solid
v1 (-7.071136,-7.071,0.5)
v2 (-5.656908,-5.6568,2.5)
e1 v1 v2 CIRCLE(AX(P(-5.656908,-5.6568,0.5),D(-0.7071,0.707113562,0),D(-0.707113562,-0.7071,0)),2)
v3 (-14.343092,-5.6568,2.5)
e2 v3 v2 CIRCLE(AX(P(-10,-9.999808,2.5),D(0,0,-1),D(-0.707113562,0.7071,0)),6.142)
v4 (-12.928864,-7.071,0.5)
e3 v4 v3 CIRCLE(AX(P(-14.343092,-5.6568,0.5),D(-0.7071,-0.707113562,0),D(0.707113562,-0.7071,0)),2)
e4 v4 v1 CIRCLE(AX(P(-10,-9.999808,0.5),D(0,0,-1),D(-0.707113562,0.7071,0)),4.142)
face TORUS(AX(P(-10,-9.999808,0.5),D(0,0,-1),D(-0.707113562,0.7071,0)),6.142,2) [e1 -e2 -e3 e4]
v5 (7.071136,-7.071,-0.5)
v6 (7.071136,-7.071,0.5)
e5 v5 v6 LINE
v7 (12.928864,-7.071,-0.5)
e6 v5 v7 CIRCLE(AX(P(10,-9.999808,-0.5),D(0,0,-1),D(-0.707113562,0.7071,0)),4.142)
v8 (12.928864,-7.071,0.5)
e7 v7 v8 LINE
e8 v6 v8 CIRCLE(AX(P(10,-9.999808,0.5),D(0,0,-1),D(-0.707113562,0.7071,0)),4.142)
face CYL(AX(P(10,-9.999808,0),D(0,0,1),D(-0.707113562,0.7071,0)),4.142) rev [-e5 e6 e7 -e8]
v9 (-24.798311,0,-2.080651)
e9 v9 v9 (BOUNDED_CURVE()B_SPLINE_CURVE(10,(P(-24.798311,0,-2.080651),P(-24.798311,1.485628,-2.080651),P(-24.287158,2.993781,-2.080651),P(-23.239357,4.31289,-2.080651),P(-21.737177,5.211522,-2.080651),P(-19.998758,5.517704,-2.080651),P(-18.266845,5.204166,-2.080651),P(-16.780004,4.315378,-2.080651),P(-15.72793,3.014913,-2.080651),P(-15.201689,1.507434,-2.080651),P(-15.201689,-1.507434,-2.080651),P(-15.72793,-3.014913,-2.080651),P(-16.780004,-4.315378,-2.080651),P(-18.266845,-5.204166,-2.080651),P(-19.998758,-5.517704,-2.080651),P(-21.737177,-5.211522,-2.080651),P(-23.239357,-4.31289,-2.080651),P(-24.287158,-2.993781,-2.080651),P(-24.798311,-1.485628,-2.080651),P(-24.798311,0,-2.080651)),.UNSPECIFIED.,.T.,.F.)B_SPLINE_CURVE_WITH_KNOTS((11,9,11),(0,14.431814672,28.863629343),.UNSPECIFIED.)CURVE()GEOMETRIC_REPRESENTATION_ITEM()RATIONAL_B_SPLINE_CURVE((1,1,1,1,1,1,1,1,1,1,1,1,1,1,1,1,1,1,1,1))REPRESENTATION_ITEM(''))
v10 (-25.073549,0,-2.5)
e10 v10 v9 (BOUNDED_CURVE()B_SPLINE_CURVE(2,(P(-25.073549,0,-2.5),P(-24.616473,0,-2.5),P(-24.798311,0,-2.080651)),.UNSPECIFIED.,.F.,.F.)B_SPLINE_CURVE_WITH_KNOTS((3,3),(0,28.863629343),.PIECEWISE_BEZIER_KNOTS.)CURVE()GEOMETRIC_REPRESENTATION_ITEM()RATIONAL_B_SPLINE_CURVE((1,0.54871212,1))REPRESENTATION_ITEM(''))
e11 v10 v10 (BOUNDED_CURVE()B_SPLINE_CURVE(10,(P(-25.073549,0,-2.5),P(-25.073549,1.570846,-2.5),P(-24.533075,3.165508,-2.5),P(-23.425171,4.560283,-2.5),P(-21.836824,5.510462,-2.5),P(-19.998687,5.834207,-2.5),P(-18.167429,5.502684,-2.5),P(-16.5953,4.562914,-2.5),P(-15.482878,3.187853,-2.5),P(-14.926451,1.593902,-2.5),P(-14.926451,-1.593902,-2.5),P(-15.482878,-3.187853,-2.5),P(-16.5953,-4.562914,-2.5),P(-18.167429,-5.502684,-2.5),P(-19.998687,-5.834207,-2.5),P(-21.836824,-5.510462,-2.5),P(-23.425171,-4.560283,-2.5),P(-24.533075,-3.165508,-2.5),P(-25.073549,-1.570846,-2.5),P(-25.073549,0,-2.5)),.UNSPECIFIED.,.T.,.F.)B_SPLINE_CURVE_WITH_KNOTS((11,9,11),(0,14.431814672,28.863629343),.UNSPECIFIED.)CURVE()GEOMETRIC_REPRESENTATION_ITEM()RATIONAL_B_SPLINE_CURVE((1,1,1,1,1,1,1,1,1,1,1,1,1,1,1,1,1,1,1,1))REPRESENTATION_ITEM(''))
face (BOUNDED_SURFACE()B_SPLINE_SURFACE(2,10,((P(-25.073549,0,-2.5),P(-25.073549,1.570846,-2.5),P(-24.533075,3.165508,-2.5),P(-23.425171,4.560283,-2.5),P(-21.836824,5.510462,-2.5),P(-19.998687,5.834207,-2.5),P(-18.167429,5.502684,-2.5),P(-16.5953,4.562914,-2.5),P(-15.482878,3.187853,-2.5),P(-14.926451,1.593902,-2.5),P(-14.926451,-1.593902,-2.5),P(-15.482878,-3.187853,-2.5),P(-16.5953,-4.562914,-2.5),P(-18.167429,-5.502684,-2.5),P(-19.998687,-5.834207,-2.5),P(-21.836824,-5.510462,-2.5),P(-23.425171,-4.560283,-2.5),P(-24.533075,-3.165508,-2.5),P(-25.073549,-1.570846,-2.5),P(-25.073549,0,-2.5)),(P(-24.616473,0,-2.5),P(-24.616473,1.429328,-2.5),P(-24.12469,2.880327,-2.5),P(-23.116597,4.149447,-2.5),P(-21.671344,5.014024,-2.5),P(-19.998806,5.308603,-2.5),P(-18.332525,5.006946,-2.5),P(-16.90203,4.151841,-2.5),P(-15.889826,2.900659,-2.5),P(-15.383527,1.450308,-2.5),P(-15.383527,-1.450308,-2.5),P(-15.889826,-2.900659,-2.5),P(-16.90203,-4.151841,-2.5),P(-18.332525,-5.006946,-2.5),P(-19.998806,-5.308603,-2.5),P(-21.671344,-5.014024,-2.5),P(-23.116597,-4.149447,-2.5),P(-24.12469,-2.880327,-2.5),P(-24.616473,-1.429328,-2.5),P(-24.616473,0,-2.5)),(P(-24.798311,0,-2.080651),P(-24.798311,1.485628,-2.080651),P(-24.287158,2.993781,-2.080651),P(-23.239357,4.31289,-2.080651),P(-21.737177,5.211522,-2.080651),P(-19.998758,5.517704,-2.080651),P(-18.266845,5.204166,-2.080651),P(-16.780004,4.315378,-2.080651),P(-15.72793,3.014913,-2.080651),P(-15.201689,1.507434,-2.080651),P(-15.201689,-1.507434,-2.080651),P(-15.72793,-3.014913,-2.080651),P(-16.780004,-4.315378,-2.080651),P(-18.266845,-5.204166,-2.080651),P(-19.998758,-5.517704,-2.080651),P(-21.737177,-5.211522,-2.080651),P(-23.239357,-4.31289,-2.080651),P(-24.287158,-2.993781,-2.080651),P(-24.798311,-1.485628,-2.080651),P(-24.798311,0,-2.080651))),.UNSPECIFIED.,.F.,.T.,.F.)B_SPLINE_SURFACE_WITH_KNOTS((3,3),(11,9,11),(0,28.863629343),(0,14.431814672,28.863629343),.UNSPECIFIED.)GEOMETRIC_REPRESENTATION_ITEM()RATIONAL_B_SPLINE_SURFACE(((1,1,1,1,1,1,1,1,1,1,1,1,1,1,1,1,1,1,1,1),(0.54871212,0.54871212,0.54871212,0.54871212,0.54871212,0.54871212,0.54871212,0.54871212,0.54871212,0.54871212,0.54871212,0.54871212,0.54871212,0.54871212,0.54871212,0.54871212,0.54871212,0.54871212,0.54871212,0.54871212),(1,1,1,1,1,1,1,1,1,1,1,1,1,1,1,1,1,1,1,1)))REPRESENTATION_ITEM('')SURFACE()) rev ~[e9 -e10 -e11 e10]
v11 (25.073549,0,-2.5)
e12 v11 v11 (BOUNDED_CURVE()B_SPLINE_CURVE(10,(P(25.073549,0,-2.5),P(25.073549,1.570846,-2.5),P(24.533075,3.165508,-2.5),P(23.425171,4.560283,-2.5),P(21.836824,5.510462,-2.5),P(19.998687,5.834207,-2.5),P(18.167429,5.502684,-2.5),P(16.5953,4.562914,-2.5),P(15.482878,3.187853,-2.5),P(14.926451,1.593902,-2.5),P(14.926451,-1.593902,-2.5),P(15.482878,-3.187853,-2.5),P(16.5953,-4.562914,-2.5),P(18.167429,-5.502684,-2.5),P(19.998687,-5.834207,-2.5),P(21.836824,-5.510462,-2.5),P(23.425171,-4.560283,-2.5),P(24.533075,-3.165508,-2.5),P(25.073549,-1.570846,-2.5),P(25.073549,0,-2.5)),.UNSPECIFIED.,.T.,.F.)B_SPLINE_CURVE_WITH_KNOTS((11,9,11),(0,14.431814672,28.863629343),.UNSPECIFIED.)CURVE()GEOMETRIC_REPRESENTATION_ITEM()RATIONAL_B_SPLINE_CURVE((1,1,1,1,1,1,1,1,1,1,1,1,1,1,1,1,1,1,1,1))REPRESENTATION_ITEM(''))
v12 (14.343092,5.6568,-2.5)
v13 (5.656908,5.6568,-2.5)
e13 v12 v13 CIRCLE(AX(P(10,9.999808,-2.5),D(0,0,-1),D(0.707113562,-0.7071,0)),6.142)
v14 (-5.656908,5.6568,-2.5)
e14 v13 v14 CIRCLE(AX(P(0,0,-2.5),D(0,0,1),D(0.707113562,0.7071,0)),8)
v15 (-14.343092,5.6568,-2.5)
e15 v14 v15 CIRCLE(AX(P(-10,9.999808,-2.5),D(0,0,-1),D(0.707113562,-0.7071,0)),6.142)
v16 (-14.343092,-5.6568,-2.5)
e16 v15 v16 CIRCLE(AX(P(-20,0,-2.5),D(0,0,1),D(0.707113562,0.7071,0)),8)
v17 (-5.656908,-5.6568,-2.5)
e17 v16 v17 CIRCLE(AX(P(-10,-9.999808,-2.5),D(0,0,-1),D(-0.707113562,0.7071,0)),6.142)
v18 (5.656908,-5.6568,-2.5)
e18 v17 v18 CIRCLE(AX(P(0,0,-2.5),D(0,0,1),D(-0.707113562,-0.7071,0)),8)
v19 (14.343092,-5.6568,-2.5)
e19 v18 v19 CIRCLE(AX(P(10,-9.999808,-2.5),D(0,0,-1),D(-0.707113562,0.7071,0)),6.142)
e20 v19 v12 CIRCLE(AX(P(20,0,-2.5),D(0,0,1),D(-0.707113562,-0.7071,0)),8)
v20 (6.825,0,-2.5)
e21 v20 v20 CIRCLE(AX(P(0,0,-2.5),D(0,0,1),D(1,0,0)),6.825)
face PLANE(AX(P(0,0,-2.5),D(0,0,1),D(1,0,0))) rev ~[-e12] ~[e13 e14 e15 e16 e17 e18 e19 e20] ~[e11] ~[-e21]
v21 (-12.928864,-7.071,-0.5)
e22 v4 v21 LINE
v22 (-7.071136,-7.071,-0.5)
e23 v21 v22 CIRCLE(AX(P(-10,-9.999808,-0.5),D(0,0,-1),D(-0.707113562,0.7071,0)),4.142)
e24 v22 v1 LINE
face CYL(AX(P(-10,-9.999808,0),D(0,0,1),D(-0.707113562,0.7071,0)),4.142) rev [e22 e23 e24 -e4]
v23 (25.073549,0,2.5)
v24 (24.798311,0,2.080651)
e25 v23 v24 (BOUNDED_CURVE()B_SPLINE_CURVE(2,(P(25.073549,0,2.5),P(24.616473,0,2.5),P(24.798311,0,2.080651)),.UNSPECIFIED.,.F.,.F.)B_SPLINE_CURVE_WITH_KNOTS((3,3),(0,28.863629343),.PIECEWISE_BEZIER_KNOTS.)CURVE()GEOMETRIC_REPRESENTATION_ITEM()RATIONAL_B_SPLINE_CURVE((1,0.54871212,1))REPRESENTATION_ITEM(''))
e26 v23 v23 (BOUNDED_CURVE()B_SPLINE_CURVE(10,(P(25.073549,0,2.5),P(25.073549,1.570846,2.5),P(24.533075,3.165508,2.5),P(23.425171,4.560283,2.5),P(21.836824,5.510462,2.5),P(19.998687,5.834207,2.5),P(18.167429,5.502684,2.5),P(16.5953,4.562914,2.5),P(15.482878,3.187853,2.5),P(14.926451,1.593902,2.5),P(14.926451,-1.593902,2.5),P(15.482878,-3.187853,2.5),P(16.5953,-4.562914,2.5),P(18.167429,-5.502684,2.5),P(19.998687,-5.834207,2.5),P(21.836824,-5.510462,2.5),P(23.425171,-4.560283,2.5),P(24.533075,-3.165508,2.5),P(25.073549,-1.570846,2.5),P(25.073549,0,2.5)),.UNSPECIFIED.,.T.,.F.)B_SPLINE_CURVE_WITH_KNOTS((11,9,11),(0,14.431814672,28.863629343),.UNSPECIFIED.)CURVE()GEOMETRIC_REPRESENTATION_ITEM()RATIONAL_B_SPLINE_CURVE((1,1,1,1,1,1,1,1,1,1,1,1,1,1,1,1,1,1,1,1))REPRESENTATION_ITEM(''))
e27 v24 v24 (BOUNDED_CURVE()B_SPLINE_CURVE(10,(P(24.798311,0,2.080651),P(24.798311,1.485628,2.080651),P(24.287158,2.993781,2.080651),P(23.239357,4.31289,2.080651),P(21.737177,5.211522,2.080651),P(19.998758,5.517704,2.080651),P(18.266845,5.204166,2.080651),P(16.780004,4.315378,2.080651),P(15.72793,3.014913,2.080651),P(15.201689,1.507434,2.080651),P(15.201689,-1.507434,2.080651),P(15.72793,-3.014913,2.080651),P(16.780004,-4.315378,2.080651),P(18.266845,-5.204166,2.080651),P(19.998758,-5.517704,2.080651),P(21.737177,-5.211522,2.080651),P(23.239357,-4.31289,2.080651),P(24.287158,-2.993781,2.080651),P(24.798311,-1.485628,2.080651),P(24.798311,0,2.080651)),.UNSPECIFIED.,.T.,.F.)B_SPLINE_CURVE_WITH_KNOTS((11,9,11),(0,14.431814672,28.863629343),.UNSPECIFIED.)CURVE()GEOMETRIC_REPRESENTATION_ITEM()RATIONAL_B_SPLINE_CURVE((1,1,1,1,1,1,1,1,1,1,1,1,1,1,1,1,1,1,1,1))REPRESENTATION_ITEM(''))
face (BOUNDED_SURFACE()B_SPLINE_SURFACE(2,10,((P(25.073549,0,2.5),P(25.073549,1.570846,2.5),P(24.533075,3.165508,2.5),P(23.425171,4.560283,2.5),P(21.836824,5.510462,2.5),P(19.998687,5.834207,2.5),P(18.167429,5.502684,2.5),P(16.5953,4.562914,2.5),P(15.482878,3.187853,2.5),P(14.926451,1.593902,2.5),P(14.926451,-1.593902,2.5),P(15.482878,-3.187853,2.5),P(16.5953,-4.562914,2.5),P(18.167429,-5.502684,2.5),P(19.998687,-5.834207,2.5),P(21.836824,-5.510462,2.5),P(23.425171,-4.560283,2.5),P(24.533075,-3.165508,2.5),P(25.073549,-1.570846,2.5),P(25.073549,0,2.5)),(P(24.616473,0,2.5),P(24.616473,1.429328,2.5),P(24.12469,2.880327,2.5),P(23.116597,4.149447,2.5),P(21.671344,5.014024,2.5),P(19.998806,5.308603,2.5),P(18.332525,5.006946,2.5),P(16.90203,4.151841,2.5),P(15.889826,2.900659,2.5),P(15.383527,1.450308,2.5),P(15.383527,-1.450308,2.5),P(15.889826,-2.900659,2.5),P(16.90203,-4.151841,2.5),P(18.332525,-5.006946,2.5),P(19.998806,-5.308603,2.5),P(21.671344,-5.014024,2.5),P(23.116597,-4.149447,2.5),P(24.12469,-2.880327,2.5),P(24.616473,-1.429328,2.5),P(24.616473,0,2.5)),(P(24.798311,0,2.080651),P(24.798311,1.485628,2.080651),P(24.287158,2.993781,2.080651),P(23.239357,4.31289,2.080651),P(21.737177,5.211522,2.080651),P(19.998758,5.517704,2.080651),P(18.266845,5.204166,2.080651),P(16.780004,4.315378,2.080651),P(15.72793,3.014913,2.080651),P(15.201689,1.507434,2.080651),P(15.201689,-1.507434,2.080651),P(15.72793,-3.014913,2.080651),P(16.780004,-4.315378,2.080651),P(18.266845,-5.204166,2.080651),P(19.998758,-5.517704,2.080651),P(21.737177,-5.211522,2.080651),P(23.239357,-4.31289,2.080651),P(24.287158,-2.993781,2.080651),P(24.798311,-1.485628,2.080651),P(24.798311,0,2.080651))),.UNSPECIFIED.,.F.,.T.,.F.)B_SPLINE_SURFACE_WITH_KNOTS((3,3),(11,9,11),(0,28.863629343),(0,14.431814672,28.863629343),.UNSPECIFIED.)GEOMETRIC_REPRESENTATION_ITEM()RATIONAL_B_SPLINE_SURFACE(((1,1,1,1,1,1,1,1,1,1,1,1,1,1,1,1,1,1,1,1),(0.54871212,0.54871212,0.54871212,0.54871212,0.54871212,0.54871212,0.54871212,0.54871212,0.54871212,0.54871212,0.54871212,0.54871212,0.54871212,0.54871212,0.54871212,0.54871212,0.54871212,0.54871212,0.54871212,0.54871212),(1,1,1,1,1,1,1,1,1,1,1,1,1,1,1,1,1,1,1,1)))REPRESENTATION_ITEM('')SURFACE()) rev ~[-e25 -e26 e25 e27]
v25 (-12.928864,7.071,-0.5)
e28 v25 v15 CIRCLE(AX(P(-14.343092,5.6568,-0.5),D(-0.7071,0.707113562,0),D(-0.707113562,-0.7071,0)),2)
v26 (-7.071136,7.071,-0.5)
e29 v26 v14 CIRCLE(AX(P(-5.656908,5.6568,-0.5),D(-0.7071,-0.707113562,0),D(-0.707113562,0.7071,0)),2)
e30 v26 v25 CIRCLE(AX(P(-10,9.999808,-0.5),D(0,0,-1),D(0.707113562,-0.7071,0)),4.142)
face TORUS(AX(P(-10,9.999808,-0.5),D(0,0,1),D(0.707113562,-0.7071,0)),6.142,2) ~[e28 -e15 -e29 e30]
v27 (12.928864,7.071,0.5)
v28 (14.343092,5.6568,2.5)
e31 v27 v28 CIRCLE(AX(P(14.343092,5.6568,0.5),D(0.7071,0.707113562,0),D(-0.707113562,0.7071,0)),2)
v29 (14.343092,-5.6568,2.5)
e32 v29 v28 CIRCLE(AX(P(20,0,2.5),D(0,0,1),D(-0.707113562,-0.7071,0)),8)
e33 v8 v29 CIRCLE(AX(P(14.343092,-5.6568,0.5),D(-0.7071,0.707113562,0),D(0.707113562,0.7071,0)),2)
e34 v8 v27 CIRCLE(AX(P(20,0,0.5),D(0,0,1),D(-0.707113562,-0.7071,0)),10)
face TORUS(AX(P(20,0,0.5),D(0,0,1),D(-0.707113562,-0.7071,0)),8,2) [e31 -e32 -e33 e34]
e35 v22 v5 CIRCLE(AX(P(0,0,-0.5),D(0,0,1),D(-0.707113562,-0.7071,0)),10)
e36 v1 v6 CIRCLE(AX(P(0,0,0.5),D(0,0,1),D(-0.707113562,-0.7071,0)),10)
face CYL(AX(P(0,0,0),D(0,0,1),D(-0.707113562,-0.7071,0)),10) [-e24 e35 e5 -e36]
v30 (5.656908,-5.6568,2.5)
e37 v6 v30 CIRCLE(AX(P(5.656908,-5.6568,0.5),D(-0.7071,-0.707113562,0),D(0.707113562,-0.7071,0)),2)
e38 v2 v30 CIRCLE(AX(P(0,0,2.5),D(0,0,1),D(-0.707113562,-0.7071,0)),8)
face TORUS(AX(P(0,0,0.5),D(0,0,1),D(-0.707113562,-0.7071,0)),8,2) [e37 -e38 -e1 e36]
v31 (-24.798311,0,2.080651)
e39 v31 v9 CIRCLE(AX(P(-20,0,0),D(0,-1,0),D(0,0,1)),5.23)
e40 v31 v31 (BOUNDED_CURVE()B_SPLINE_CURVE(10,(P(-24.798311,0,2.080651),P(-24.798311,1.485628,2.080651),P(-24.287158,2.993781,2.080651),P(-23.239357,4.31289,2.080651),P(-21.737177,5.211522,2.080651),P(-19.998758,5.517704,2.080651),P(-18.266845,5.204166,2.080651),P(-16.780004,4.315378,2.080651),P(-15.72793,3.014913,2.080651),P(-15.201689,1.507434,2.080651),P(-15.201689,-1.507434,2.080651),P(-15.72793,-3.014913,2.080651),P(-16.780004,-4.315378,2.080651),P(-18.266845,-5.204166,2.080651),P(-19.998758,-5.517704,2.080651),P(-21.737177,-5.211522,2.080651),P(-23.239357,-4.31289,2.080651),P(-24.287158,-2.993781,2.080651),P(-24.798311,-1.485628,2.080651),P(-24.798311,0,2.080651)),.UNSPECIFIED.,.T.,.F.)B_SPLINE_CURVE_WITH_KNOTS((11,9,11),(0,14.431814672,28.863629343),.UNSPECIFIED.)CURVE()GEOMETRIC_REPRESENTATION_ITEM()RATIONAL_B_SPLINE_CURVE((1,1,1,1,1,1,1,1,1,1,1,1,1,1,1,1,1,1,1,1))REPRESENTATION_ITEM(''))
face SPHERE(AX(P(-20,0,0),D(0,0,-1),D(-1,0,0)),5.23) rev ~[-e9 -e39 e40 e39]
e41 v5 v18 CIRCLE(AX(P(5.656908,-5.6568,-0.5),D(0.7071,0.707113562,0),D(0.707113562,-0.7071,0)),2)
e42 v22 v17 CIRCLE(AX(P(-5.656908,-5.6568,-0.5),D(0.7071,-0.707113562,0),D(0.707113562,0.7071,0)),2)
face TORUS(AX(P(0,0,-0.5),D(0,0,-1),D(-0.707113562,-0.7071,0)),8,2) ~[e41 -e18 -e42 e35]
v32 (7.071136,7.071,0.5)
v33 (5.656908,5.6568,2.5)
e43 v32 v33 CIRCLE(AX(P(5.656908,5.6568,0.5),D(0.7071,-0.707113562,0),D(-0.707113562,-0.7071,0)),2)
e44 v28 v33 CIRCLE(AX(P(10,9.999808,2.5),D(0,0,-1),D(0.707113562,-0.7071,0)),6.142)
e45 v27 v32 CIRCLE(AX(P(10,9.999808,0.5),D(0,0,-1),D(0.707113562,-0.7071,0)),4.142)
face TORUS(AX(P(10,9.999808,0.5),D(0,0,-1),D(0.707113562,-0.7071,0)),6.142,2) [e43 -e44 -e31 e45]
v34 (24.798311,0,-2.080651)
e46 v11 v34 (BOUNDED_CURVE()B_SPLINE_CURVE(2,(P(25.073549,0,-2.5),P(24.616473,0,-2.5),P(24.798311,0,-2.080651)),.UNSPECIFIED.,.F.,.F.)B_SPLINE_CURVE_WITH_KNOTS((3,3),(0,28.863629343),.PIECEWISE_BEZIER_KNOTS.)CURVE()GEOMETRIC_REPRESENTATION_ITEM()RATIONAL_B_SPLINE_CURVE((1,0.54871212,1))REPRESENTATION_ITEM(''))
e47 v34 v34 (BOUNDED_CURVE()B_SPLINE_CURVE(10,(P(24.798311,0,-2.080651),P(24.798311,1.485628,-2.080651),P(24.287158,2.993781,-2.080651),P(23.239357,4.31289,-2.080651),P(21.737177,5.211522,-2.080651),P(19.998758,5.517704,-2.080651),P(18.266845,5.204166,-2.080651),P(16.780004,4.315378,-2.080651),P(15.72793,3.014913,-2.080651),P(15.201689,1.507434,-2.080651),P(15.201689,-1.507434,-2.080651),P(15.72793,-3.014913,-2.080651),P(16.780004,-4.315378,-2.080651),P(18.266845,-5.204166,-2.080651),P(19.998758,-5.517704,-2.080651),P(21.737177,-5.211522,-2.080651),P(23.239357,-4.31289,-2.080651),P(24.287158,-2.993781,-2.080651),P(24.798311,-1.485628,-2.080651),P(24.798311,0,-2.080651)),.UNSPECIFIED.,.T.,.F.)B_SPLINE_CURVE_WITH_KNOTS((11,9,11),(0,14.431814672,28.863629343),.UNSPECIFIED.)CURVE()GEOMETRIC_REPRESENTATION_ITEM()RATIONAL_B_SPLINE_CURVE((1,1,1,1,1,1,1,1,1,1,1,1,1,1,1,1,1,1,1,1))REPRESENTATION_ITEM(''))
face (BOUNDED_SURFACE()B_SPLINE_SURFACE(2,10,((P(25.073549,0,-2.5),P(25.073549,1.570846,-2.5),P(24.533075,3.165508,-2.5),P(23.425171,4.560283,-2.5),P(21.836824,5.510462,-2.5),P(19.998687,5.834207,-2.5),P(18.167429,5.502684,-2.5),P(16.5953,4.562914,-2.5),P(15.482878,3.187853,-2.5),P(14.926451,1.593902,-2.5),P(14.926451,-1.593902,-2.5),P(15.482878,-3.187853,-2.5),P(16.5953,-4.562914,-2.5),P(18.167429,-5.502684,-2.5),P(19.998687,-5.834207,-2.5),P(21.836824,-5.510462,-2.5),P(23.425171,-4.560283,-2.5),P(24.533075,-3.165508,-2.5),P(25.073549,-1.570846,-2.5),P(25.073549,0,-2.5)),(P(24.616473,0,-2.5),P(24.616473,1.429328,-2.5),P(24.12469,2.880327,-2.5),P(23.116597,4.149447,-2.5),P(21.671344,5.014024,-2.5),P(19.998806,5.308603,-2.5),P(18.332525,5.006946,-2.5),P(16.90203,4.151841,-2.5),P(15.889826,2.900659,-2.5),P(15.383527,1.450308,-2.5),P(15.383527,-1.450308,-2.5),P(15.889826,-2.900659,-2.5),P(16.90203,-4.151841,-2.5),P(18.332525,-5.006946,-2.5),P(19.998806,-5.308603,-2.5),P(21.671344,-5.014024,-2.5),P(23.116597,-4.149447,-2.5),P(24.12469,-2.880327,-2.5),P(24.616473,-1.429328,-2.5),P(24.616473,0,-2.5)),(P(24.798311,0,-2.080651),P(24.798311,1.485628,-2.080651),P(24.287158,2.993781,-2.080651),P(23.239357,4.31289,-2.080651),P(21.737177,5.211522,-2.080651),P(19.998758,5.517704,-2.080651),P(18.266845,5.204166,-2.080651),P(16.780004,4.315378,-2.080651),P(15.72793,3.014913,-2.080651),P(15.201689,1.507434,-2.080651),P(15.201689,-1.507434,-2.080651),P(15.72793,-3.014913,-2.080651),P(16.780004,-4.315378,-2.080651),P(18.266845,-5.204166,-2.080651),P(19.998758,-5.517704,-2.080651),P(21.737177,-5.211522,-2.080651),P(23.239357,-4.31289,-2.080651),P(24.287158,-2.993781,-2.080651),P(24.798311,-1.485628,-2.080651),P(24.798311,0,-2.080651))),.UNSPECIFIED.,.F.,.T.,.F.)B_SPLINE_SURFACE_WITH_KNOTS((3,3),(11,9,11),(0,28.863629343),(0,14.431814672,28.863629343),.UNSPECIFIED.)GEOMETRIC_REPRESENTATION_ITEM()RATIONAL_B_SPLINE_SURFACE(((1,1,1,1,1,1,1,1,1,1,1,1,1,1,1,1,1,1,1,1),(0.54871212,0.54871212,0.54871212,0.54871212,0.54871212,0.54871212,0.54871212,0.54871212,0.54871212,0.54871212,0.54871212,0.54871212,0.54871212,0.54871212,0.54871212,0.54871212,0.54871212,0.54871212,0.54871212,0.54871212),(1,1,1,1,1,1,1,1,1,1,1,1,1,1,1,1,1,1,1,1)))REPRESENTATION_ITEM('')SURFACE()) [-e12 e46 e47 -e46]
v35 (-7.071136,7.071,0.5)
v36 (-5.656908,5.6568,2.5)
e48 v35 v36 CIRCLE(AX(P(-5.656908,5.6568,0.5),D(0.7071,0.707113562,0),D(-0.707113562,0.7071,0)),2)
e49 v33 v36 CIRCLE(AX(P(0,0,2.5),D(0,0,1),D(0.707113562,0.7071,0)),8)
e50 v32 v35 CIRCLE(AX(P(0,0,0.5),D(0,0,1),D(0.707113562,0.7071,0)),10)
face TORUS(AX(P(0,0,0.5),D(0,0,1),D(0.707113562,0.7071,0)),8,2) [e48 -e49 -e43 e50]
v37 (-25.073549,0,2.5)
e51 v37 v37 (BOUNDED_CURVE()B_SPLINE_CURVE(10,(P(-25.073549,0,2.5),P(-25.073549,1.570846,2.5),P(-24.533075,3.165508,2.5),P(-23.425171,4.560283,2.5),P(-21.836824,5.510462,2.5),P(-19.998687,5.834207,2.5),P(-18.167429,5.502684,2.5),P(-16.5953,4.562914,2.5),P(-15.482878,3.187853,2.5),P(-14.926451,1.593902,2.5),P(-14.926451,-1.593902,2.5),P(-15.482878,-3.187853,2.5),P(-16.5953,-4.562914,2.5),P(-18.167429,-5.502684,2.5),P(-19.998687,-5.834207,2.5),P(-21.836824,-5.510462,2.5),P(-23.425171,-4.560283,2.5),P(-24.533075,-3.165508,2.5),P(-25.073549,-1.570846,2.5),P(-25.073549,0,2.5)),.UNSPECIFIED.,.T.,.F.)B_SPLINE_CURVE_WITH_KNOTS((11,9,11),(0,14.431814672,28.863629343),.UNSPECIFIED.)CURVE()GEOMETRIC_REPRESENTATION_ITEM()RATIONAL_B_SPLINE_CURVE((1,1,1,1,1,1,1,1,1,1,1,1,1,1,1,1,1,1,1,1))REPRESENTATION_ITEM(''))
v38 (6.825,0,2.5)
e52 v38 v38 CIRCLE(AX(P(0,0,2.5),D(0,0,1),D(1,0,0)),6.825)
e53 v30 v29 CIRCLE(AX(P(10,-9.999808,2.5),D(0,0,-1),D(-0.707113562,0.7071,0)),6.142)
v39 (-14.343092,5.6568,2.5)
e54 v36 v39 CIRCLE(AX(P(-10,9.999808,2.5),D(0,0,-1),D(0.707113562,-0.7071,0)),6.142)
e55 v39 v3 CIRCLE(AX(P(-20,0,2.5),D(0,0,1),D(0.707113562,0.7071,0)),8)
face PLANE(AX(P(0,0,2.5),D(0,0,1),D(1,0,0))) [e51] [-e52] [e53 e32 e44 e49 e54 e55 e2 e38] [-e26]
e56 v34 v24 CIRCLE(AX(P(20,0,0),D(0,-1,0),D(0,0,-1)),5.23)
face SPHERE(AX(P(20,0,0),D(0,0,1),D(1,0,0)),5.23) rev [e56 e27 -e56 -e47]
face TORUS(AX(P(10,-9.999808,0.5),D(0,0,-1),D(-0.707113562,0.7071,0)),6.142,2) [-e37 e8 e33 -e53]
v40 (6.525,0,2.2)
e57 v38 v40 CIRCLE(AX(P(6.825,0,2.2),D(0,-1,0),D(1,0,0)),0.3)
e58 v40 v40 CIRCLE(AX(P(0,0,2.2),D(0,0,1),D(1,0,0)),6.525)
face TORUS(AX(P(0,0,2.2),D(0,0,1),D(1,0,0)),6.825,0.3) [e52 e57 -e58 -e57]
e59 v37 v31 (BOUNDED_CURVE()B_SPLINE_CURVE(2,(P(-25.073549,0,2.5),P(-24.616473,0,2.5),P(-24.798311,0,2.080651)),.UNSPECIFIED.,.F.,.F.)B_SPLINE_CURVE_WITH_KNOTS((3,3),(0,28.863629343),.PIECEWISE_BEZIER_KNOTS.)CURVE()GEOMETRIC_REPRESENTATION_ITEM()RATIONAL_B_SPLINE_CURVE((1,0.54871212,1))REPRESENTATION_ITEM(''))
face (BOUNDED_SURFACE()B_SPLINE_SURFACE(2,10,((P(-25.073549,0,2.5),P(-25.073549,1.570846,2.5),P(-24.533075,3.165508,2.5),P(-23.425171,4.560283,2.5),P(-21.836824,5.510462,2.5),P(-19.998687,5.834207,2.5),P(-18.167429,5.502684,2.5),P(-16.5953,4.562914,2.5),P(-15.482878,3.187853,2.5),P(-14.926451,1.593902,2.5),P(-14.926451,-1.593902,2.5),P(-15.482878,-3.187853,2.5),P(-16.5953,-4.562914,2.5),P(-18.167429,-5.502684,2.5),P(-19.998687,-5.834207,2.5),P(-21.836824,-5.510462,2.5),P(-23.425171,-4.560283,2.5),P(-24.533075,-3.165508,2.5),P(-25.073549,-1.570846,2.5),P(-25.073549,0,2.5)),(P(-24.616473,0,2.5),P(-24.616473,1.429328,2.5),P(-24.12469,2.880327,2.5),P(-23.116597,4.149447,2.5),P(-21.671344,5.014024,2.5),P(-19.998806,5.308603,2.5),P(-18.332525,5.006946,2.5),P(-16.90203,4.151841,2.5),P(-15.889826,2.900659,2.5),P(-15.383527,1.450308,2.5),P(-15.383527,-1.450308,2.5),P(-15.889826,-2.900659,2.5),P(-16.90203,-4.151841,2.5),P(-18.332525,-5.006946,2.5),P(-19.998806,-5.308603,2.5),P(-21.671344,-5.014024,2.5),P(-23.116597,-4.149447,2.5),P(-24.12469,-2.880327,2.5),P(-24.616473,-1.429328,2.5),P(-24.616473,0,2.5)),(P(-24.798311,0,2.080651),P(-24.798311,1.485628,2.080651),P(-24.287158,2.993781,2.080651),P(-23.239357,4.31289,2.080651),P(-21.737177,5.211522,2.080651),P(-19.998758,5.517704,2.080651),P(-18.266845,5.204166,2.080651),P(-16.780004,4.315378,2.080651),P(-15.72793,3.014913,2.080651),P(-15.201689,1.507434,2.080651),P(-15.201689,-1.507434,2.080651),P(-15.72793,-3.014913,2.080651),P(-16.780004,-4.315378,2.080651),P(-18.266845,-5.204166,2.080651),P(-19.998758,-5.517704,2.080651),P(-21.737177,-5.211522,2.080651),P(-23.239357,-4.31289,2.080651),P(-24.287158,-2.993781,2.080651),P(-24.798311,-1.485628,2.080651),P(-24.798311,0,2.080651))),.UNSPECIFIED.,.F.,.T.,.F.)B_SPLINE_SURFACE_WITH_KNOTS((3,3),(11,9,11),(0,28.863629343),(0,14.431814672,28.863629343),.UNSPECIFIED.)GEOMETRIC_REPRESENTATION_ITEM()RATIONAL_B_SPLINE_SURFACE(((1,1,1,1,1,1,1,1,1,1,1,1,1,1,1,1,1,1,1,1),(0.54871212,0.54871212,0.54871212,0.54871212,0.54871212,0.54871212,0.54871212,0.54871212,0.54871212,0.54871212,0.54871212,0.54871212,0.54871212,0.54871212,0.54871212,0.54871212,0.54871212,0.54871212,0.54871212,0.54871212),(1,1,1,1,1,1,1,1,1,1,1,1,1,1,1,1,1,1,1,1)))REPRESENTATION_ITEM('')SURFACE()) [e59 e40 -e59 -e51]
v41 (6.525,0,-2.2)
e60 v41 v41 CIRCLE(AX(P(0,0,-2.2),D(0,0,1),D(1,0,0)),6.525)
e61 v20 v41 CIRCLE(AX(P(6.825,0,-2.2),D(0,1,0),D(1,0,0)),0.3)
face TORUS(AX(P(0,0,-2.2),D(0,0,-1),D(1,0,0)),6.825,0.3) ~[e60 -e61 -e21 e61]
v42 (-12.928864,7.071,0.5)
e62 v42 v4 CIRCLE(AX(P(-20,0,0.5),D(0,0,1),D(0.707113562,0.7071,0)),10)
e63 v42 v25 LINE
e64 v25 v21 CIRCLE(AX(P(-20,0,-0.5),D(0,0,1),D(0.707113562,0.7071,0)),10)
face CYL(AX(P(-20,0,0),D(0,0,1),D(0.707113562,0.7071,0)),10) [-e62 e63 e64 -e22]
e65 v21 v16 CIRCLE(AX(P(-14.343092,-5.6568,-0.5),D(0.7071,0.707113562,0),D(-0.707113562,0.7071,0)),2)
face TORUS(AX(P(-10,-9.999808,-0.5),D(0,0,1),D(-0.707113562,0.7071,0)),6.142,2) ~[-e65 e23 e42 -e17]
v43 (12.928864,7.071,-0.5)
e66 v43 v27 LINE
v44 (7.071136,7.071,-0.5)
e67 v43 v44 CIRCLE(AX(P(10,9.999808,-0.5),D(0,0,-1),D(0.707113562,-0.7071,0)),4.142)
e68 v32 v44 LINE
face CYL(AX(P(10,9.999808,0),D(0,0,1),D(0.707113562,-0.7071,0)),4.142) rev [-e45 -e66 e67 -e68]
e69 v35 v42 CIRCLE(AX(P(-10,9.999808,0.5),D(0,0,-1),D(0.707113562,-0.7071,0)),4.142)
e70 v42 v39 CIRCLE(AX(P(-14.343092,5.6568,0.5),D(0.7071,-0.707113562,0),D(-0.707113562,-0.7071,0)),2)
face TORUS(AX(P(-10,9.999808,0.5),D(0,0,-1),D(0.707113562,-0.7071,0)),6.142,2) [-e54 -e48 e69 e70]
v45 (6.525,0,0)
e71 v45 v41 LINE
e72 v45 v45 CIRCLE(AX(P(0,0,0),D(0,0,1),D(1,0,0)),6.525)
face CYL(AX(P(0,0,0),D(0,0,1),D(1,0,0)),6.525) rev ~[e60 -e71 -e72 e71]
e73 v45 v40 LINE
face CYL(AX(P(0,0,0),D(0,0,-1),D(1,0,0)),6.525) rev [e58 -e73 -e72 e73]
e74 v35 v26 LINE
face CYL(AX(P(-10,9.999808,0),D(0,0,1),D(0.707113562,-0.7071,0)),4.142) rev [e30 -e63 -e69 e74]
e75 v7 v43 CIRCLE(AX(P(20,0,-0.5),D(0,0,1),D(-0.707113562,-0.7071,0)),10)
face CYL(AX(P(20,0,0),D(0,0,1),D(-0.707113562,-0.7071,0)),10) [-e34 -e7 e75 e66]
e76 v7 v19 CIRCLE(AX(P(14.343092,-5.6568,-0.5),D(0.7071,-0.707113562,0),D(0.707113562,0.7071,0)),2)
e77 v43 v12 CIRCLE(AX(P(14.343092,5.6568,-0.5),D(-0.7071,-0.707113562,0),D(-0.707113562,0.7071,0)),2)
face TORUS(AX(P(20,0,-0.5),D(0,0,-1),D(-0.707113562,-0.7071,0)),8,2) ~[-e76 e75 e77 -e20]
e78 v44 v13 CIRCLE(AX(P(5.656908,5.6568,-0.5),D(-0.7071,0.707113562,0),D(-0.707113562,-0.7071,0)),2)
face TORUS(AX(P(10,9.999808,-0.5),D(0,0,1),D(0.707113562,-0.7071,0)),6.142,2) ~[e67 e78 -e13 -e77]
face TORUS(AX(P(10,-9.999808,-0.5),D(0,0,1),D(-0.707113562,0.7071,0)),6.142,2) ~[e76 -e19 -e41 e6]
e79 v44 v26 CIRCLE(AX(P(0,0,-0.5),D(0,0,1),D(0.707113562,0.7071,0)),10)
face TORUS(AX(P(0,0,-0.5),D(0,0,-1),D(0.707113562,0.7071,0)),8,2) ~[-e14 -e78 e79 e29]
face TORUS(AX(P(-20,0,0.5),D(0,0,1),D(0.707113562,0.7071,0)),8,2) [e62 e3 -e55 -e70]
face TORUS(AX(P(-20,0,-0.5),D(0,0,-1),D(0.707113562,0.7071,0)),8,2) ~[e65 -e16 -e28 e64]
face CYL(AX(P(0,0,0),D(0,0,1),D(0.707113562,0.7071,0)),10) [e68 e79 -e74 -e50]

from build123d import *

# Parameters (mm, degrees)
F0_R     = 6.525
F1_DEPTH = 2.5
F2_DEPTH = 2.5
F7_R     = 2
F8_R     = 0.3


with BuildPart() as f1:
    # F0 (on Top) → F1 (new body)
    with BuildSketch(Plane.XY):
        with BuildLine():
            ThreePointArc((-12.9288643756, -7.0709999987), (-10, -5.8578081982), (-7.0711356244, -7.0709999987))
            ThreePointArc((-7.0711356244, -7.0709999987), (0, -10), (7.0711356244, -7.0709999987))
            ThreePointArc((7.0711356244, -7.0709999987), (10, -5.8578081982), (12.9288643756, -7.0709999987))
            ThreePointArc((12.9288643756, -7.0709999987), (30, 0), (12.9288643756, 7.0709999987))
            ThreePointArc((12.9288643756, 7.0709999987), (10, 5.8578081982), (7.0711356244, 7.0709999987))
            ThreePointArc((7.0711356244, 7.0709999987), (0, 10), (-7.0711356244, 7.0709999987))
            ThreePointArc((-7.0711356244, 7.0709999987), (-10, 5.8578081982), (-12.9288643756, 7.0709999987))
            ThreePointArc((-12.9288643756, 7.0709999987), (-30, 0), (-12.9288643756, -7.0709999987))
        make_face()
        Circle(F0_R, mode=Mode.SUBTRACT)
    extrude(amount=F1_DEPTH)

    # F2 (add): a face of the model
    f2_faces = [f1.faces().sort_by_distance(p)[0] for p in [
        (-10, -5.2253526661, 0),
    ]]
    extrude(f2_faces, amount=F2_DEPTH)

    # F3 (on Front) → F4 (revolve, cut)
    with BuildSketch(Plane.XZ):
        with BuildLine():
            Line((-20, -5.23), (-20, 5.23))
            ThreePointArc((-20, 5.23), (-25.23, 0), (-20, -5.23))
        make_face()
    revolve(axis=Axis((-20, 0, 0), (0, 0, -1)), mode=Mode.SUBTRACT)

    # F5 (on Front) → F6 (revolve, cut)
    with BuildSketch(Plane.XZ):
        with BuildLine():
            Line((20, 5.23), (20, -5.23))
            ThreePointArc((20, -5.23), (25.23, 0), (20, 5.23))
        make_face()
    revolve(axis=Axis((20, 0, 0), (0, 0, -1)), mode=Mode.SUBTRACT)

    # F7
    f7_edges = [f1.edges().sort_by_distance(p)[0] for p in [
        (-10, -5.857808, -2.5),
        (0, -10, 2.5),
    ]]
    fillet(f7_edges, radius=F7_R)

    # F8
    f8_edges = [f1.edges().sort_by_distance(p)[0] for p in [
        (15.406211, 0, -2.5),
        (25.23, 0, 0),
        (15.406211, 0, 2.5),
        (-6.525, 0, 2.5),
        (6.525, 0, 0),
        (-6.525, 0, -2.5),
        (-15.406211, 0, 2.5),
        (-25.23, 0, 0),
        (-15.406211, 0, -2.5),
    ]]
    fillet(f8_edges, radius=F8_R)


solid = f1.part
